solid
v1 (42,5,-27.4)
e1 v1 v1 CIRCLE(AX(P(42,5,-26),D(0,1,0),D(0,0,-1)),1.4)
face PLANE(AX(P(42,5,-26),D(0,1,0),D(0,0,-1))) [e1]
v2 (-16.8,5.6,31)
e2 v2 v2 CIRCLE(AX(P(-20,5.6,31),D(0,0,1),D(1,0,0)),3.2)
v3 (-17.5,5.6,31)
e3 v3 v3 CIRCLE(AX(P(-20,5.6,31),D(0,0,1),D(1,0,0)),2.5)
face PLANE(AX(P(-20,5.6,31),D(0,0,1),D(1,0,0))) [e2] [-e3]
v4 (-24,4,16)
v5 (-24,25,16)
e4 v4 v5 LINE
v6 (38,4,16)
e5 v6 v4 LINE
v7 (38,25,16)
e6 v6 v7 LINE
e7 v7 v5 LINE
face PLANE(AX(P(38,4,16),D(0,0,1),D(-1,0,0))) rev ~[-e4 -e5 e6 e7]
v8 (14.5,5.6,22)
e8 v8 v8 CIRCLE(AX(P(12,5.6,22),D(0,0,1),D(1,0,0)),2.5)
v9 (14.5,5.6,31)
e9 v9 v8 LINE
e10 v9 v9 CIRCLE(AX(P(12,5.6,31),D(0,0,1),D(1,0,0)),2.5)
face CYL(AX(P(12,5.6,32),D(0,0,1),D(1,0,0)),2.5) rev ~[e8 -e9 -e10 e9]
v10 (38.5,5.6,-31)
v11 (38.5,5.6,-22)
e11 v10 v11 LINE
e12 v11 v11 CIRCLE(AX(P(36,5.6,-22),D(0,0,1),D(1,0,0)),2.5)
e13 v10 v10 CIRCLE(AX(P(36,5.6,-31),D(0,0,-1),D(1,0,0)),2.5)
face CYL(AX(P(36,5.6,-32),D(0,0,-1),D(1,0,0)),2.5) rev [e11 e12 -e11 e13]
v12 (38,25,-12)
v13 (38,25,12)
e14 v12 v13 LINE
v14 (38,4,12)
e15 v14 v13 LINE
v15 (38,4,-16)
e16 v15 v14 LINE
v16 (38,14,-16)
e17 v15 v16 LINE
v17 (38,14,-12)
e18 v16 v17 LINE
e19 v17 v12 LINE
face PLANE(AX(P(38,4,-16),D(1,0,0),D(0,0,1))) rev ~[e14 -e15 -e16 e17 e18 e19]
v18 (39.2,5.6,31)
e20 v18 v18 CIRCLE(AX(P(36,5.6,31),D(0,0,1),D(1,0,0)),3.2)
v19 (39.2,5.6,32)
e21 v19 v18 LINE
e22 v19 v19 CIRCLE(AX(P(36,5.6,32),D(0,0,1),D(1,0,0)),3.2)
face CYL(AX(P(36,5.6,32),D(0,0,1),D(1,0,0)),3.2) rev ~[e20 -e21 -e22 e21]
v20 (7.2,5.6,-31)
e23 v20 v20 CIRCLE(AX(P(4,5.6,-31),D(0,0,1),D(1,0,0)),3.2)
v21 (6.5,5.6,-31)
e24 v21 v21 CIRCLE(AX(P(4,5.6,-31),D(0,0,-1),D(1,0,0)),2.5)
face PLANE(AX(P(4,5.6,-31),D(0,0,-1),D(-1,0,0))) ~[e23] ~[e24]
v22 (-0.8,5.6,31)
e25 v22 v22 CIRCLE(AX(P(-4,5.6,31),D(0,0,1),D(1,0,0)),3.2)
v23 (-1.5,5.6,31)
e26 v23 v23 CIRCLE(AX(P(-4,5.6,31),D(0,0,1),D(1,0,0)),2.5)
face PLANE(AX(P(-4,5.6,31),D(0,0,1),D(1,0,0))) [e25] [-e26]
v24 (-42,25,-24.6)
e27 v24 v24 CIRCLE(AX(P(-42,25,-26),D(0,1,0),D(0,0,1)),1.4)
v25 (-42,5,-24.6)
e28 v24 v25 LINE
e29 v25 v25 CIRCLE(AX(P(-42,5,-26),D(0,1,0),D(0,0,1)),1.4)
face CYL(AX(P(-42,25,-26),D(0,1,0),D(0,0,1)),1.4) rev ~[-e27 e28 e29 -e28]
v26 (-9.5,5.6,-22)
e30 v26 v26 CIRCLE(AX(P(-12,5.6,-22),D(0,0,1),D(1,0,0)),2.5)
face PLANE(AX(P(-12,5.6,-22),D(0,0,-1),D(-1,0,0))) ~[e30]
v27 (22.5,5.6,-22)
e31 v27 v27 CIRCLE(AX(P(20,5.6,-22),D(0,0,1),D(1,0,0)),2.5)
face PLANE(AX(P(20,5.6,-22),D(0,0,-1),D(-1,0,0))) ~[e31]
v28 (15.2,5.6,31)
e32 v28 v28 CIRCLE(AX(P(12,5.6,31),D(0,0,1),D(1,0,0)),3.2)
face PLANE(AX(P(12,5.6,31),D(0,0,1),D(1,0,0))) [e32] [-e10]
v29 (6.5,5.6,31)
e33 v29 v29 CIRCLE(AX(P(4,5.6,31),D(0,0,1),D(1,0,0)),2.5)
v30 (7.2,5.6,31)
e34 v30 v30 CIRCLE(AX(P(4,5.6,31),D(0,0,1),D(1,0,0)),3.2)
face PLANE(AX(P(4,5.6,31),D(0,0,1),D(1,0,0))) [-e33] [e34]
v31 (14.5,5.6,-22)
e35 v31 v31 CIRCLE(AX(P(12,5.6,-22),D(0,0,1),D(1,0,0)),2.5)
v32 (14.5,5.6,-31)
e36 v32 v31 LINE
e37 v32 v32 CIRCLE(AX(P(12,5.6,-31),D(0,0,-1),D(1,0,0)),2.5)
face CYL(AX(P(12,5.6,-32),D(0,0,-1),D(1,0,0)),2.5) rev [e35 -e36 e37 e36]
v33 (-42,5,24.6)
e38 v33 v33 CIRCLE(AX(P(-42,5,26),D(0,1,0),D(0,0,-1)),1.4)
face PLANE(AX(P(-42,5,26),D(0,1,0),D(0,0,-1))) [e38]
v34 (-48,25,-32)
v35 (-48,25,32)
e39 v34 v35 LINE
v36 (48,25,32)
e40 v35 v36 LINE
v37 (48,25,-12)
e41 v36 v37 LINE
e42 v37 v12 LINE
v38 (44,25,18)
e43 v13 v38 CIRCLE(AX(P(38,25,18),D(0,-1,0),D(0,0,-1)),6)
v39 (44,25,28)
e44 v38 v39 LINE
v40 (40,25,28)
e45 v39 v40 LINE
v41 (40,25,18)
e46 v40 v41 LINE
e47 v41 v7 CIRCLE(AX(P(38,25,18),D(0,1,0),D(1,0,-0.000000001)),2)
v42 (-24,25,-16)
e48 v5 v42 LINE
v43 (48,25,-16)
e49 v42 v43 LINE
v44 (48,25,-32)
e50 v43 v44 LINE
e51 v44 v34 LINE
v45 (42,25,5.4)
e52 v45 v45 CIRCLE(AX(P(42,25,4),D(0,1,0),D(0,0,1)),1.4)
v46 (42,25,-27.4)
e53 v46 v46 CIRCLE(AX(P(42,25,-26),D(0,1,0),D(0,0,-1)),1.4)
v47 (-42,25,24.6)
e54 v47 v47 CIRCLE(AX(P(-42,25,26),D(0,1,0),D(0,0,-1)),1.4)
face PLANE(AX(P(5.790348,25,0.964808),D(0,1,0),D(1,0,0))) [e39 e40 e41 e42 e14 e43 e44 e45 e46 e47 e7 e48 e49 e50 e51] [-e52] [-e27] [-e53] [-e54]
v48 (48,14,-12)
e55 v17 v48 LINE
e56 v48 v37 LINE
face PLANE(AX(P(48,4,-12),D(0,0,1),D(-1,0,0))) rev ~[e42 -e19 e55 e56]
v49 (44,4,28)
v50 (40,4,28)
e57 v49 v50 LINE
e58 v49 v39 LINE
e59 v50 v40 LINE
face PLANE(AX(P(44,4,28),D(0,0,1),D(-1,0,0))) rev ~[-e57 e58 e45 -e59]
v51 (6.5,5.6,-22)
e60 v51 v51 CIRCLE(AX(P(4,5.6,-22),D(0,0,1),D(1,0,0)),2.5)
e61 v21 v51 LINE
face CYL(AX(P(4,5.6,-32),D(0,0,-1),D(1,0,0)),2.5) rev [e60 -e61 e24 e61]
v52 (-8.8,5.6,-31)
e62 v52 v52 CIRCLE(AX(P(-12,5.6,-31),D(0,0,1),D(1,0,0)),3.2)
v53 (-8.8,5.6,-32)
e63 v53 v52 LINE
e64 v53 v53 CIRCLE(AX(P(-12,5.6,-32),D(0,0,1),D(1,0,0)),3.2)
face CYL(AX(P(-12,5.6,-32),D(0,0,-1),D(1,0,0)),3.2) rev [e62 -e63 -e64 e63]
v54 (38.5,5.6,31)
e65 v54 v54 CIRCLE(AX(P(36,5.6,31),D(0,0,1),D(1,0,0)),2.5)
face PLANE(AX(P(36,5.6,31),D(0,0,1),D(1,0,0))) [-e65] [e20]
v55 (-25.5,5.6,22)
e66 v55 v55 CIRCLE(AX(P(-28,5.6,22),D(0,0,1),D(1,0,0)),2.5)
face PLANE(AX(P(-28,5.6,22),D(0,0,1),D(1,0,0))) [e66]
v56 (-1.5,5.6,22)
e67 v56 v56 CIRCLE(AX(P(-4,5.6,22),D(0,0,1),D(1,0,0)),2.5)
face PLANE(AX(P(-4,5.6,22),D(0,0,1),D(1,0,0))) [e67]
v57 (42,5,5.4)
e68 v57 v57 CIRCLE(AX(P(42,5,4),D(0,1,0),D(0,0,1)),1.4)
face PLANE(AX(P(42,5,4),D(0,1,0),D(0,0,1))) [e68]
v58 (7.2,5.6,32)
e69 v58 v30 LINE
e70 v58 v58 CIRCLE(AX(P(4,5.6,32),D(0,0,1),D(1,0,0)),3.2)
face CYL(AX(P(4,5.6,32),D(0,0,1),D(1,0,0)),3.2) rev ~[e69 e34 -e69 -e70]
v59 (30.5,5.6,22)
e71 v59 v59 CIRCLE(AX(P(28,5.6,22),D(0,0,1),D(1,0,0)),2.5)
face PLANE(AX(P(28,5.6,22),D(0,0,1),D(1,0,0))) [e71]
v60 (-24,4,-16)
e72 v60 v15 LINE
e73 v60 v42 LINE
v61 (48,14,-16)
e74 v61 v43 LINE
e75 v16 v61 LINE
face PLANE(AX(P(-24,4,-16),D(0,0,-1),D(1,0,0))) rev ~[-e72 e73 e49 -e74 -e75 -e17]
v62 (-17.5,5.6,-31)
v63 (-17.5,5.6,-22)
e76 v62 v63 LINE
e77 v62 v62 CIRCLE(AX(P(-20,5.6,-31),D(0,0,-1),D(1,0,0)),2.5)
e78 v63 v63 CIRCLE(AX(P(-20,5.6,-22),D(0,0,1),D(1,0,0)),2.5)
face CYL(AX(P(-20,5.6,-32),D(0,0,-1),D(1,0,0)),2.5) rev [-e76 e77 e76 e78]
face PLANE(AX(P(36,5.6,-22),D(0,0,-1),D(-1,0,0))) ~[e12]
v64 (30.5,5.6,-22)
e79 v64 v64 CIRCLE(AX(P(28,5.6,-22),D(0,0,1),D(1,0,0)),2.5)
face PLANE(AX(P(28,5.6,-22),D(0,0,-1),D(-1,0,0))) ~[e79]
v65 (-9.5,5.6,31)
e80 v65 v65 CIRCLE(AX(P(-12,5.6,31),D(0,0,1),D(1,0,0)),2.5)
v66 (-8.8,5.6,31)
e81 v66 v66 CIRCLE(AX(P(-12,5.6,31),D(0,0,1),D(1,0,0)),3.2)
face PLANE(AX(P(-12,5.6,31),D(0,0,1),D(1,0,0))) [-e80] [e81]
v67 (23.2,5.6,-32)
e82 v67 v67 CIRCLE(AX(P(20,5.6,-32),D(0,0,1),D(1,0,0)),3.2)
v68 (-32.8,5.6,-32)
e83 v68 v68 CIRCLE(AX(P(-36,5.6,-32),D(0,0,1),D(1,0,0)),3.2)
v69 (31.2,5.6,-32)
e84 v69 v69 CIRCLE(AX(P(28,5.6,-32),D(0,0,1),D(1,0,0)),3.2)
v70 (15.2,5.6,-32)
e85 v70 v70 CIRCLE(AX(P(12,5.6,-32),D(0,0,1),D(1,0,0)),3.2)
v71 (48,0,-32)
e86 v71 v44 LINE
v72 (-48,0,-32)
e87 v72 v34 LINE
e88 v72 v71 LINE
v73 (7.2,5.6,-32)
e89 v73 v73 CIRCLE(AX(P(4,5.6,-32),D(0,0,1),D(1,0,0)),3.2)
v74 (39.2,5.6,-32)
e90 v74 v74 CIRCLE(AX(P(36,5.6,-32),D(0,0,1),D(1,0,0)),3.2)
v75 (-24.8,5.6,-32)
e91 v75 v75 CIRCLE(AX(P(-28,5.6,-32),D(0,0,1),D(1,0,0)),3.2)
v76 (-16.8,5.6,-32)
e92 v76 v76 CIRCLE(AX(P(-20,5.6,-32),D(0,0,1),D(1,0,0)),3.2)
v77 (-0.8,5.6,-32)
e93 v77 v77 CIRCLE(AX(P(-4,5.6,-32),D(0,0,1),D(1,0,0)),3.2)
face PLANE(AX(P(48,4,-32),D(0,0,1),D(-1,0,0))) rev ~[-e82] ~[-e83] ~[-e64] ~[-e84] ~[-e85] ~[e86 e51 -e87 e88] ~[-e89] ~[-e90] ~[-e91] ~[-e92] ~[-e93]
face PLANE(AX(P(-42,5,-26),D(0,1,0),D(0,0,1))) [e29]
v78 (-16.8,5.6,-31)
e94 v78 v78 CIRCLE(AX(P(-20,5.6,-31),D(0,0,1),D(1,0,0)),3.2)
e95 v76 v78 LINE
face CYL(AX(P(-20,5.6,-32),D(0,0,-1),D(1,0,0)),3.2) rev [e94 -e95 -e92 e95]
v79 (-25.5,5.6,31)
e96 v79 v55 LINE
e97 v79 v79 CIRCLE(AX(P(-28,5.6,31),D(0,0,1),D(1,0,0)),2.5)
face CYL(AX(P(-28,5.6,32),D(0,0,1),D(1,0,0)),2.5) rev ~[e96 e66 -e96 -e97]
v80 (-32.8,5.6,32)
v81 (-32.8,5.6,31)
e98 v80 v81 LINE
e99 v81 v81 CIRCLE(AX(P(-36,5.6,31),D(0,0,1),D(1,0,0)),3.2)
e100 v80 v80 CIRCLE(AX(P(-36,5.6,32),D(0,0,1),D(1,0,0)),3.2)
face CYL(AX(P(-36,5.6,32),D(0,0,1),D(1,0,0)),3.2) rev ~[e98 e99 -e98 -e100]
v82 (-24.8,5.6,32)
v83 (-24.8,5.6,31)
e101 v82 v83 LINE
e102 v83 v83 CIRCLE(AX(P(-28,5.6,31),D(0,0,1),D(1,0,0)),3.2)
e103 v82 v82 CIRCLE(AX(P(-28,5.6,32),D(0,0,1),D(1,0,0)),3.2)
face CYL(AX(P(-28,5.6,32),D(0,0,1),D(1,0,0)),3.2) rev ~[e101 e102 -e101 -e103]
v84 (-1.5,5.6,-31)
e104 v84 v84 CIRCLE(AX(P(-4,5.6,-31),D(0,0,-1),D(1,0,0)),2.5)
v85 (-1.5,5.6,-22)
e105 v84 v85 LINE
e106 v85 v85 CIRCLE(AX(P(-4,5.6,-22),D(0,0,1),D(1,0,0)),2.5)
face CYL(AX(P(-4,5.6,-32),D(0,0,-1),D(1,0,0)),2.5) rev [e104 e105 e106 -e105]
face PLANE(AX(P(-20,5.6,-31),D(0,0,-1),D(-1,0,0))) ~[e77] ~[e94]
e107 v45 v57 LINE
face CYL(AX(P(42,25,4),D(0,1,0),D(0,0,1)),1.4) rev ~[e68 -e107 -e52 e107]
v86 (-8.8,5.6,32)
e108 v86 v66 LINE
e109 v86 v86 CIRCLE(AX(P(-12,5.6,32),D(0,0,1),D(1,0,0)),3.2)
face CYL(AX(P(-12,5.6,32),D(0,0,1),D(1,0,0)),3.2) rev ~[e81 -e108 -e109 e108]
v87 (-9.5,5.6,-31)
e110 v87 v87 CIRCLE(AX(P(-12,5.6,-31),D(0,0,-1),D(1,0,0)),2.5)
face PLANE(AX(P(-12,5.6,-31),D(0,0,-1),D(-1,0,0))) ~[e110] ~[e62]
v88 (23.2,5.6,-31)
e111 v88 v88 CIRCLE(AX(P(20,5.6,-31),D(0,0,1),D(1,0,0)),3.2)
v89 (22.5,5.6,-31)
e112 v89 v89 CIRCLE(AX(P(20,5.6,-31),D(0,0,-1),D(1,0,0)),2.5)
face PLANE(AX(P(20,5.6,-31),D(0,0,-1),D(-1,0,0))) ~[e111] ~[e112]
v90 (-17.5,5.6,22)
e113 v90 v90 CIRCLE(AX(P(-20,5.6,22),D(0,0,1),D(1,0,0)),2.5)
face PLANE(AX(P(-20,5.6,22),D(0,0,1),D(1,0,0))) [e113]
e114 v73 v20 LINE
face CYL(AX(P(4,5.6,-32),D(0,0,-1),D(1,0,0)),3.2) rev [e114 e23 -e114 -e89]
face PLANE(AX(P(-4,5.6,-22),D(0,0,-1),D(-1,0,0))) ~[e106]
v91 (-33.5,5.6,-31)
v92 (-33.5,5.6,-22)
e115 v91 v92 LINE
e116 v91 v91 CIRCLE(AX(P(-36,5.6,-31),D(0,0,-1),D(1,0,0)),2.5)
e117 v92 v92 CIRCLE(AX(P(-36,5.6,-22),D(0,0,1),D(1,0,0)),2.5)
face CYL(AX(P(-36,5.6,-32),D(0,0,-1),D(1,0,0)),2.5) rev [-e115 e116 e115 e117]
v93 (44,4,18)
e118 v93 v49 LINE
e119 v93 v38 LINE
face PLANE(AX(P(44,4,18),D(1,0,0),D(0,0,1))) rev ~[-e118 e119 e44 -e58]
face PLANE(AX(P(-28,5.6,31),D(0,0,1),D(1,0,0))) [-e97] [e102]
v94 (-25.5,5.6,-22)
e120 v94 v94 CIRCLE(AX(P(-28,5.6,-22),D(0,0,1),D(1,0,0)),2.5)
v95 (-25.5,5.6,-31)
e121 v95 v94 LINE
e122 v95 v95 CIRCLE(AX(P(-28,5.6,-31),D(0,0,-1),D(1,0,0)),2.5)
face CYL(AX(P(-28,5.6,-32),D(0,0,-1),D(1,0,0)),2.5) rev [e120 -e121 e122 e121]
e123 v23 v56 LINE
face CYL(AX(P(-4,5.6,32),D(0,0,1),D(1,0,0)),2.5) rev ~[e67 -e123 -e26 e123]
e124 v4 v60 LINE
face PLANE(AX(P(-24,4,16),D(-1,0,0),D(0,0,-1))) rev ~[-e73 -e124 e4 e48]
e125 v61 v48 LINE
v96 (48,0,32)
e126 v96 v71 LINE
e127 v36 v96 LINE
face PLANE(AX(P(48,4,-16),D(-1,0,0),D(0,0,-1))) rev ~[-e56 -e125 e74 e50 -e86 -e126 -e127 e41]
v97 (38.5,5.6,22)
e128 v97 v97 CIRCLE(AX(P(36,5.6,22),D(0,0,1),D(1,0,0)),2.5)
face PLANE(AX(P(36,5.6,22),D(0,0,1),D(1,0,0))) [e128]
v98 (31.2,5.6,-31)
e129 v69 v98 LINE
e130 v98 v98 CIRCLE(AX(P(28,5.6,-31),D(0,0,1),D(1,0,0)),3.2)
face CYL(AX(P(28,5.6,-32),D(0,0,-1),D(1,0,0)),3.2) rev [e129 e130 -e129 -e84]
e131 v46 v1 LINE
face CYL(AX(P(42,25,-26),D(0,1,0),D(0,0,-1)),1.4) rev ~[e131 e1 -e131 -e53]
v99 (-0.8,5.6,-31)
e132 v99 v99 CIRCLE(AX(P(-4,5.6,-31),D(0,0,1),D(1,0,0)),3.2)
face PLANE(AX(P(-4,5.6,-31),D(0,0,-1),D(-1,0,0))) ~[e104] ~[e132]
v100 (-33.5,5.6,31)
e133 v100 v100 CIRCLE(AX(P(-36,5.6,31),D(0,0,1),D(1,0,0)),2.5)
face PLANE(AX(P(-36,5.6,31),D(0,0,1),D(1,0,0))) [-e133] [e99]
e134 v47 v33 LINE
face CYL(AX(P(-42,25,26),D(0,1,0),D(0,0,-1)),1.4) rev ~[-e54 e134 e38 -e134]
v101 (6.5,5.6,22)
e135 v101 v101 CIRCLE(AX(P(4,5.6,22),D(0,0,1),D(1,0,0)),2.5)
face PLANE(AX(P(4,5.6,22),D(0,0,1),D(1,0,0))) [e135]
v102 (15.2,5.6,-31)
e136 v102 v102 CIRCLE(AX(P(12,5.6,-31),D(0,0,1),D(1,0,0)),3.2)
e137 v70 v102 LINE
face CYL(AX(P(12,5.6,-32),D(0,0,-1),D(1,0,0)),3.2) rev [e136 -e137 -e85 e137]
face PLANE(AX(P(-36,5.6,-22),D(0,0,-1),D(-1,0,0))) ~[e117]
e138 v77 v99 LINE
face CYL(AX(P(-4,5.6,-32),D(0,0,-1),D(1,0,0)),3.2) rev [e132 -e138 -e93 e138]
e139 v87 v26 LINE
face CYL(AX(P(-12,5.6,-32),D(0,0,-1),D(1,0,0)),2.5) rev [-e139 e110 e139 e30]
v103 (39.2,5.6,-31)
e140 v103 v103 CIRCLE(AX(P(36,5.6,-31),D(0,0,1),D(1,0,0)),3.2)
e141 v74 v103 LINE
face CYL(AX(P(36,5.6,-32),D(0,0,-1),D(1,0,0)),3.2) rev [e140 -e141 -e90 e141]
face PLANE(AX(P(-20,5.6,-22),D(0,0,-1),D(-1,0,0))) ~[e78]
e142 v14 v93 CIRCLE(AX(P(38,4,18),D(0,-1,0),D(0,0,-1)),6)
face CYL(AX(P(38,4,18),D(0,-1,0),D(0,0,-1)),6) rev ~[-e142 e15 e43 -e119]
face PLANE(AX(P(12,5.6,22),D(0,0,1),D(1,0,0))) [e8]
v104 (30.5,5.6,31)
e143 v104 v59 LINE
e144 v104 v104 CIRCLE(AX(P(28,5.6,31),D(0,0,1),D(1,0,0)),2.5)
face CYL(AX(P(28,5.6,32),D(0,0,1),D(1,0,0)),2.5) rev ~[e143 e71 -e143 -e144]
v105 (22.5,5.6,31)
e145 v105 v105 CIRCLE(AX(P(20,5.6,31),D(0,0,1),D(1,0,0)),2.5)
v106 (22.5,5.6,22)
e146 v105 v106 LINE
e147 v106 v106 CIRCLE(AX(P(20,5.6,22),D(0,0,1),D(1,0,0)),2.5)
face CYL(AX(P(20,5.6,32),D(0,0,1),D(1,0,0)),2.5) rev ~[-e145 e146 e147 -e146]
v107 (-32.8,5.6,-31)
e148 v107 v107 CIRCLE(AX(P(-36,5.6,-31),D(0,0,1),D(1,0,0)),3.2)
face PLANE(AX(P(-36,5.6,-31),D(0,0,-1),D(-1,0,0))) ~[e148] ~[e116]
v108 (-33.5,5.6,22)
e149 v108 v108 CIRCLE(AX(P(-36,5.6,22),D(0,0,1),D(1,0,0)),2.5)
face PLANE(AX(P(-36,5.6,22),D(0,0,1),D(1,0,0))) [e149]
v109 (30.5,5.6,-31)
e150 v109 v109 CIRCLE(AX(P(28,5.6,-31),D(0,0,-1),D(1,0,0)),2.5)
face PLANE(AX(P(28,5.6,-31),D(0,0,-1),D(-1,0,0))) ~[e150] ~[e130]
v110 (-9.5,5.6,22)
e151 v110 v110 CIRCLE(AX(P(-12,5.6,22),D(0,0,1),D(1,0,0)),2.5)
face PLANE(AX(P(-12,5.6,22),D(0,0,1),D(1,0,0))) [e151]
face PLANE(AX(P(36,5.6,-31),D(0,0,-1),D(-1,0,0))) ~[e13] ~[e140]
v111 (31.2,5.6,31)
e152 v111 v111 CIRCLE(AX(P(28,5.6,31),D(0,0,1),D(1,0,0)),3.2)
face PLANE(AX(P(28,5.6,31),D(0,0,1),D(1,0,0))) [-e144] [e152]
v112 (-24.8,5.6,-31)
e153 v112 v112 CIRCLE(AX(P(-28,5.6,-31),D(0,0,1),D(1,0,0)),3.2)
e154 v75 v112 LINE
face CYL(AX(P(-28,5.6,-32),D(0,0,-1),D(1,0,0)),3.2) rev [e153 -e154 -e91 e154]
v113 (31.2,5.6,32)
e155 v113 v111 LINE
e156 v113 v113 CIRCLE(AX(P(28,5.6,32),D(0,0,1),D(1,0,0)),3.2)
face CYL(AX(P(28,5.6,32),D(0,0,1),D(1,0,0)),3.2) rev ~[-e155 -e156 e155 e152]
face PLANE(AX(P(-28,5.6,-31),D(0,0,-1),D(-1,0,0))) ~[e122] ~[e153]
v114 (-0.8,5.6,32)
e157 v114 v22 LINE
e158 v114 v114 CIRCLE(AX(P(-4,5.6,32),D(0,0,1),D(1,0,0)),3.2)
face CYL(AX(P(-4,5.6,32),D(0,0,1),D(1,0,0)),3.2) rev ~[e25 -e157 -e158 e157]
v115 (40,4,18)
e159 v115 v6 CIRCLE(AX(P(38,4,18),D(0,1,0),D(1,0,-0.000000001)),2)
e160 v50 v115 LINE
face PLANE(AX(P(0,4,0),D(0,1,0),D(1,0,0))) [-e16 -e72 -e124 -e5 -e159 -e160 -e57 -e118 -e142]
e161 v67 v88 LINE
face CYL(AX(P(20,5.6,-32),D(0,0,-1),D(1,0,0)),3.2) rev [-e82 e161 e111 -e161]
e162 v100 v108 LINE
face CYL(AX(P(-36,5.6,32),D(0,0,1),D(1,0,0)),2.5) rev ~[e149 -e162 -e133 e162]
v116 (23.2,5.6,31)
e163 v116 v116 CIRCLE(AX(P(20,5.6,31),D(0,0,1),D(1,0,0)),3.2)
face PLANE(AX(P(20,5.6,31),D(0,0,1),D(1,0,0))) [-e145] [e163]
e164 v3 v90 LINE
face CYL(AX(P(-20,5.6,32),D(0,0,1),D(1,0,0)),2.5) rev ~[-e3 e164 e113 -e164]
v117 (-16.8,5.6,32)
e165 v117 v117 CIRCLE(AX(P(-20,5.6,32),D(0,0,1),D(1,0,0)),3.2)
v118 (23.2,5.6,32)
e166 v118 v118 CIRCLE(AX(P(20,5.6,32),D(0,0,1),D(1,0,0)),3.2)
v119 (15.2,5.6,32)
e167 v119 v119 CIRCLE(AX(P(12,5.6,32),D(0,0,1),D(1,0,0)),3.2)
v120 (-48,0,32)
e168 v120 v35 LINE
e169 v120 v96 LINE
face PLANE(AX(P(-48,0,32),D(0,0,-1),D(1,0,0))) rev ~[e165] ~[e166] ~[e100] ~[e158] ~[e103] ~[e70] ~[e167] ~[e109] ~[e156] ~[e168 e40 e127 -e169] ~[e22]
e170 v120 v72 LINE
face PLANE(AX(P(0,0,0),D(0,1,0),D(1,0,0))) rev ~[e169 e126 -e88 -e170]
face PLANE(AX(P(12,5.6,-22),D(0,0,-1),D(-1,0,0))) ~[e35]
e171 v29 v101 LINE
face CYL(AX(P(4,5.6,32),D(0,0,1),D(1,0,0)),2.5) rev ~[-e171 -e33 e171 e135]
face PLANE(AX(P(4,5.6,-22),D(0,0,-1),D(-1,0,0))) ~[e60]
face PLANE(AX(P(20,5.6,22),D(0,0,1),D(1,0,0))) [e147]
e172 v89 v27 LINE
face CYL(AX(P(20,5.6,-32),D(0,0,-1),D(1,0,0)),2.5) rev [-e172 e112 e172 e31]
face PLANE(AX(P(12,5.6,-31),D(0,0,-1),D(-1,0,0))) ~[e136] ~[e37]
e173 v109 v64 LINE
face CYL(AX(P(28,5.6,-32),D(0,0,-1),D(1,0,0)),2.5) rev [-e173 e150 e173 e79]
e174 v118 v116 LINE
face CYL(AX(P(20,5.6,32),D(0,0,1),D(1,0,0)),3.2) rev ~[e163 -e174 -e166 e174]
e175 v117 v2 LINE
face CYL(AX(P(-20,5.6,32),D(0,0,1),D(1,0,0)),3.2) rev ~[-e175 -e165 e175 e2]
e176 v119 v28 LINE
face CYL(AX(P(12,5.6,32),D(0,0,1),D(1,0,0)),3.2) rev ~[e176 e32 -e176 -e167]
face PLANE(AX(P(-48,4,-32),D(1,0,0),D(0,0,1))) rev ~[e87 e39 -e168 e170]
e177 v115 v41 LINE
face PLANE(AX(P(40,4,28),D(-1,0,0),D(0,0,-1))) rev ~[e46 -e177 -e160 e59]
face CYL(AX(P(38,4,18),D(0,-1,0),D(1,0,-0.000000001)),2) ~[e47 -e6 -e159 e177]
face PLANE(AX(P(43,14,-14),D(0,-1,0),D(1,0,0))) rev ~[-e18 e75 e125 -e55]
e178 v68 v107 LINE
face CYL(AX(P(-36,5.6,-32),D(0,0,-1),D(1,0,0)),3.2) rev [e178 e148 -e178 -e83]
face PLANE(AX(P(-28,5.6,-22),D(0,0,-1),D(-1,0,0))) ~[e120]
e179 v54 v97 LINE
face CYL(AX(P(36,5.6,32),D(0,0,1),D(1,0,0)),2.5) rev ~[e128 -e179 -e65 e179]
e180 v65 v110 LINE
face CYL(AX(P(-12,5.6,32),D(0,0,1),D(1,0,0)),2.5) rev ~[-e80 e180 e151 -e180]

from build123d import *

# Parameters (mm, degrees)
SKETCH1_W           = 96
SKETCH1_H           = 64
BOSS_EXTRUDE1_DEPTH = 4
BOSS_EXTRUDE2_DEPTH = 21
SKETCH3_W           = 10
SKETCH3_H           = 4
BOSS_EXTRUDE4_DEPTH = 10
SKETCH4_R           = 1.4
CUT_EXTRUDE1_DEPTH  = 20
SKETCH5_R           = 2.5
CUT_EXTRUDE2_DEPTH  = 10
SKETCH7_R           = 3.2
CUT_EXTRUDE3_DEPTH  = 1


with BuildPart() as part:
    # Sketch1 → Boss-Extrude1 (new body)
    with BuildSketch(Plane(origin=(0, 0, 0), x_dir=(1, 0, 0), z_dir=(0, 1, 0))):
        Rectangle(SKETCH1_W, SKETCH1_H)
    extrude(amount=BOSS_EXTRUDE1_DEPTH)

    # Sketch2 → Boss-Extrude2 (add)
    with BuildSketch(Plane(origin=(0, 4, 0), x_dir=(1, 0, 0), z_dir=(0, 1, 0))):
        with BuildLine():
            Line((38, 16), (48, 16))
            Line((48, 16), (48, 32))
            Line((48, 32), (-48, 32))
            Line((-48, 32), (-48, -32))
            Line((-48, -32), (48, -32))
            Line((48, -32), (48, 12))
            Line((48, 12), (38, 12))
            Line((38, 12), (38, -12))
            ThreePointArc((38, -12), (42.242640687, -13.757359313), (44, -18))
            Line((44, -18), (44, -28))
            Line((44, -28), (40, -28))
            Line((40, -28), (40, -18))
            ThreePointArc((40, -18), (39.414213562, -16.585786438), (38, -16))
            Line((38, -16), (-24, -16))
            Line((-24, -16), (-24, 16))
            Line((-24, 16), (38, 16))
        make_face()
    extrude(amount=BOSS_EXTRUDE2_DEPTH)

    # Sketch3 → Boss-Extrude4 (add)
    with BuildSketch(Plane(origin=(56, 4, -12), x_dir=(1, 0, 0), z_dir=(0, -1, 0))):
        with Locations((-13, -2)):
            Rectangle(SKETCH3_W, SKETCH3_H)
    extrude(amount=-BOSS_EXTRUDE4_DEPTH)

    # Sketch4 → Cut-Extrude1 (cut)
    with BuildSketch(Plane(origin=(0, 25, 0), x_dir=(1, 0, 0), z_dir=(0, 1, 0))):
        with Locations(Location((-42, 26, 0), (0, 0, 270))):
            Circle(SKETCH4_R)
        with Locations(Location((-42, -26, 0), (0, 0, 90))):
            Circle(SKETCH4_R)
        with Locations(Location((42, 26, 0), (0, 0, 90))):
            Circle(SKETCH4_R)
        with Locations(Location((42, -4, 0), (0, 0, 270))):
            Circle(SKETCH4_R)
    extrude(amount=-CUT_EXTRUDE1_DEPTH, mode=Mode.SUBTRACT)

    # Sketch5 → Cut-Extrude2 (cut)
    with BuildSketch(Plane.XY.offset(32)):
        with Locations((-36, 5.6)):
            Circle(SKETCH5_R)
        with Locations((-28, 5.6)):
            Circle(SKETCH5_R)
        with Locations((-20, 5.6)):
            Circle(SKETCH5_R)
        with Locations((-12, 5.6)):
            Circle(SKETCH5_R)
        with Locations((-4, 5.6)):
            Circle(SKETCH5_R)
        with Locations((4, 5.6)):
            Circle(SKETCH5_R)
        with Locations((12, 5.6)):
            Circle(SKETCH5_R)
        with Locations((20, 5.6)):
            Circle(SKETCH5_R)
        with Locations((28, 5.6)):
            Circle(SKETCH5_R)
        with Locations((36, 5.6)):
            Circle(SKETCH5_R)
    cut_extrude2 = extrude(amount=-CUT_EXTRUDE2_DEPTH, mode=Mode.SUBTRACT)

    # Sketch7 → Cut-Extrude3 (cut)
    with BuildSketch(Plane.XY.offset(32)):
        with Locations((-36, 5.6)):
            Circle(SKETCH7_R)
        with Locations((-28, 5.6)):
            Circle(SKETCH7_R)
        with Locations((-20, 5.6)):
            Circle(SKETCH7_R)
        with Locations((-12, 5.6)):
            Circle(SKETCH7_R)
        with Locations((-4, 5.6)):
            Circle(SKETCH7_R)
        with Locations((4, 5.6)):
            Circle(SKETCH7_R)
        with Locations((12, 5.6)):
            Circle(SKETCH7_R)
        with Locations((20, 5.6)):
            Circle(SKETCH7_R)
        with Locations((28, 5.6)):
            Circle(SKETCH7_R)
        with Locations((36, 5.6)):
            Circle(SKETCH7_R)
    cut_extrude3 = extrude(amount=-CUT_EXTRUDE3_DEPTH, mode=Mode.SUBTRACT)

    # Mirror1: Cut-Extrude2, Cut-Extrude3 across plane
    add(cut_extrude2.mirror(Plane.XY), mode=Mode.SUBTRACT)
    add(cut_extrude3.mirror(Plane.XY), mode=Mode.SUBTRACT)


solid = part.part
